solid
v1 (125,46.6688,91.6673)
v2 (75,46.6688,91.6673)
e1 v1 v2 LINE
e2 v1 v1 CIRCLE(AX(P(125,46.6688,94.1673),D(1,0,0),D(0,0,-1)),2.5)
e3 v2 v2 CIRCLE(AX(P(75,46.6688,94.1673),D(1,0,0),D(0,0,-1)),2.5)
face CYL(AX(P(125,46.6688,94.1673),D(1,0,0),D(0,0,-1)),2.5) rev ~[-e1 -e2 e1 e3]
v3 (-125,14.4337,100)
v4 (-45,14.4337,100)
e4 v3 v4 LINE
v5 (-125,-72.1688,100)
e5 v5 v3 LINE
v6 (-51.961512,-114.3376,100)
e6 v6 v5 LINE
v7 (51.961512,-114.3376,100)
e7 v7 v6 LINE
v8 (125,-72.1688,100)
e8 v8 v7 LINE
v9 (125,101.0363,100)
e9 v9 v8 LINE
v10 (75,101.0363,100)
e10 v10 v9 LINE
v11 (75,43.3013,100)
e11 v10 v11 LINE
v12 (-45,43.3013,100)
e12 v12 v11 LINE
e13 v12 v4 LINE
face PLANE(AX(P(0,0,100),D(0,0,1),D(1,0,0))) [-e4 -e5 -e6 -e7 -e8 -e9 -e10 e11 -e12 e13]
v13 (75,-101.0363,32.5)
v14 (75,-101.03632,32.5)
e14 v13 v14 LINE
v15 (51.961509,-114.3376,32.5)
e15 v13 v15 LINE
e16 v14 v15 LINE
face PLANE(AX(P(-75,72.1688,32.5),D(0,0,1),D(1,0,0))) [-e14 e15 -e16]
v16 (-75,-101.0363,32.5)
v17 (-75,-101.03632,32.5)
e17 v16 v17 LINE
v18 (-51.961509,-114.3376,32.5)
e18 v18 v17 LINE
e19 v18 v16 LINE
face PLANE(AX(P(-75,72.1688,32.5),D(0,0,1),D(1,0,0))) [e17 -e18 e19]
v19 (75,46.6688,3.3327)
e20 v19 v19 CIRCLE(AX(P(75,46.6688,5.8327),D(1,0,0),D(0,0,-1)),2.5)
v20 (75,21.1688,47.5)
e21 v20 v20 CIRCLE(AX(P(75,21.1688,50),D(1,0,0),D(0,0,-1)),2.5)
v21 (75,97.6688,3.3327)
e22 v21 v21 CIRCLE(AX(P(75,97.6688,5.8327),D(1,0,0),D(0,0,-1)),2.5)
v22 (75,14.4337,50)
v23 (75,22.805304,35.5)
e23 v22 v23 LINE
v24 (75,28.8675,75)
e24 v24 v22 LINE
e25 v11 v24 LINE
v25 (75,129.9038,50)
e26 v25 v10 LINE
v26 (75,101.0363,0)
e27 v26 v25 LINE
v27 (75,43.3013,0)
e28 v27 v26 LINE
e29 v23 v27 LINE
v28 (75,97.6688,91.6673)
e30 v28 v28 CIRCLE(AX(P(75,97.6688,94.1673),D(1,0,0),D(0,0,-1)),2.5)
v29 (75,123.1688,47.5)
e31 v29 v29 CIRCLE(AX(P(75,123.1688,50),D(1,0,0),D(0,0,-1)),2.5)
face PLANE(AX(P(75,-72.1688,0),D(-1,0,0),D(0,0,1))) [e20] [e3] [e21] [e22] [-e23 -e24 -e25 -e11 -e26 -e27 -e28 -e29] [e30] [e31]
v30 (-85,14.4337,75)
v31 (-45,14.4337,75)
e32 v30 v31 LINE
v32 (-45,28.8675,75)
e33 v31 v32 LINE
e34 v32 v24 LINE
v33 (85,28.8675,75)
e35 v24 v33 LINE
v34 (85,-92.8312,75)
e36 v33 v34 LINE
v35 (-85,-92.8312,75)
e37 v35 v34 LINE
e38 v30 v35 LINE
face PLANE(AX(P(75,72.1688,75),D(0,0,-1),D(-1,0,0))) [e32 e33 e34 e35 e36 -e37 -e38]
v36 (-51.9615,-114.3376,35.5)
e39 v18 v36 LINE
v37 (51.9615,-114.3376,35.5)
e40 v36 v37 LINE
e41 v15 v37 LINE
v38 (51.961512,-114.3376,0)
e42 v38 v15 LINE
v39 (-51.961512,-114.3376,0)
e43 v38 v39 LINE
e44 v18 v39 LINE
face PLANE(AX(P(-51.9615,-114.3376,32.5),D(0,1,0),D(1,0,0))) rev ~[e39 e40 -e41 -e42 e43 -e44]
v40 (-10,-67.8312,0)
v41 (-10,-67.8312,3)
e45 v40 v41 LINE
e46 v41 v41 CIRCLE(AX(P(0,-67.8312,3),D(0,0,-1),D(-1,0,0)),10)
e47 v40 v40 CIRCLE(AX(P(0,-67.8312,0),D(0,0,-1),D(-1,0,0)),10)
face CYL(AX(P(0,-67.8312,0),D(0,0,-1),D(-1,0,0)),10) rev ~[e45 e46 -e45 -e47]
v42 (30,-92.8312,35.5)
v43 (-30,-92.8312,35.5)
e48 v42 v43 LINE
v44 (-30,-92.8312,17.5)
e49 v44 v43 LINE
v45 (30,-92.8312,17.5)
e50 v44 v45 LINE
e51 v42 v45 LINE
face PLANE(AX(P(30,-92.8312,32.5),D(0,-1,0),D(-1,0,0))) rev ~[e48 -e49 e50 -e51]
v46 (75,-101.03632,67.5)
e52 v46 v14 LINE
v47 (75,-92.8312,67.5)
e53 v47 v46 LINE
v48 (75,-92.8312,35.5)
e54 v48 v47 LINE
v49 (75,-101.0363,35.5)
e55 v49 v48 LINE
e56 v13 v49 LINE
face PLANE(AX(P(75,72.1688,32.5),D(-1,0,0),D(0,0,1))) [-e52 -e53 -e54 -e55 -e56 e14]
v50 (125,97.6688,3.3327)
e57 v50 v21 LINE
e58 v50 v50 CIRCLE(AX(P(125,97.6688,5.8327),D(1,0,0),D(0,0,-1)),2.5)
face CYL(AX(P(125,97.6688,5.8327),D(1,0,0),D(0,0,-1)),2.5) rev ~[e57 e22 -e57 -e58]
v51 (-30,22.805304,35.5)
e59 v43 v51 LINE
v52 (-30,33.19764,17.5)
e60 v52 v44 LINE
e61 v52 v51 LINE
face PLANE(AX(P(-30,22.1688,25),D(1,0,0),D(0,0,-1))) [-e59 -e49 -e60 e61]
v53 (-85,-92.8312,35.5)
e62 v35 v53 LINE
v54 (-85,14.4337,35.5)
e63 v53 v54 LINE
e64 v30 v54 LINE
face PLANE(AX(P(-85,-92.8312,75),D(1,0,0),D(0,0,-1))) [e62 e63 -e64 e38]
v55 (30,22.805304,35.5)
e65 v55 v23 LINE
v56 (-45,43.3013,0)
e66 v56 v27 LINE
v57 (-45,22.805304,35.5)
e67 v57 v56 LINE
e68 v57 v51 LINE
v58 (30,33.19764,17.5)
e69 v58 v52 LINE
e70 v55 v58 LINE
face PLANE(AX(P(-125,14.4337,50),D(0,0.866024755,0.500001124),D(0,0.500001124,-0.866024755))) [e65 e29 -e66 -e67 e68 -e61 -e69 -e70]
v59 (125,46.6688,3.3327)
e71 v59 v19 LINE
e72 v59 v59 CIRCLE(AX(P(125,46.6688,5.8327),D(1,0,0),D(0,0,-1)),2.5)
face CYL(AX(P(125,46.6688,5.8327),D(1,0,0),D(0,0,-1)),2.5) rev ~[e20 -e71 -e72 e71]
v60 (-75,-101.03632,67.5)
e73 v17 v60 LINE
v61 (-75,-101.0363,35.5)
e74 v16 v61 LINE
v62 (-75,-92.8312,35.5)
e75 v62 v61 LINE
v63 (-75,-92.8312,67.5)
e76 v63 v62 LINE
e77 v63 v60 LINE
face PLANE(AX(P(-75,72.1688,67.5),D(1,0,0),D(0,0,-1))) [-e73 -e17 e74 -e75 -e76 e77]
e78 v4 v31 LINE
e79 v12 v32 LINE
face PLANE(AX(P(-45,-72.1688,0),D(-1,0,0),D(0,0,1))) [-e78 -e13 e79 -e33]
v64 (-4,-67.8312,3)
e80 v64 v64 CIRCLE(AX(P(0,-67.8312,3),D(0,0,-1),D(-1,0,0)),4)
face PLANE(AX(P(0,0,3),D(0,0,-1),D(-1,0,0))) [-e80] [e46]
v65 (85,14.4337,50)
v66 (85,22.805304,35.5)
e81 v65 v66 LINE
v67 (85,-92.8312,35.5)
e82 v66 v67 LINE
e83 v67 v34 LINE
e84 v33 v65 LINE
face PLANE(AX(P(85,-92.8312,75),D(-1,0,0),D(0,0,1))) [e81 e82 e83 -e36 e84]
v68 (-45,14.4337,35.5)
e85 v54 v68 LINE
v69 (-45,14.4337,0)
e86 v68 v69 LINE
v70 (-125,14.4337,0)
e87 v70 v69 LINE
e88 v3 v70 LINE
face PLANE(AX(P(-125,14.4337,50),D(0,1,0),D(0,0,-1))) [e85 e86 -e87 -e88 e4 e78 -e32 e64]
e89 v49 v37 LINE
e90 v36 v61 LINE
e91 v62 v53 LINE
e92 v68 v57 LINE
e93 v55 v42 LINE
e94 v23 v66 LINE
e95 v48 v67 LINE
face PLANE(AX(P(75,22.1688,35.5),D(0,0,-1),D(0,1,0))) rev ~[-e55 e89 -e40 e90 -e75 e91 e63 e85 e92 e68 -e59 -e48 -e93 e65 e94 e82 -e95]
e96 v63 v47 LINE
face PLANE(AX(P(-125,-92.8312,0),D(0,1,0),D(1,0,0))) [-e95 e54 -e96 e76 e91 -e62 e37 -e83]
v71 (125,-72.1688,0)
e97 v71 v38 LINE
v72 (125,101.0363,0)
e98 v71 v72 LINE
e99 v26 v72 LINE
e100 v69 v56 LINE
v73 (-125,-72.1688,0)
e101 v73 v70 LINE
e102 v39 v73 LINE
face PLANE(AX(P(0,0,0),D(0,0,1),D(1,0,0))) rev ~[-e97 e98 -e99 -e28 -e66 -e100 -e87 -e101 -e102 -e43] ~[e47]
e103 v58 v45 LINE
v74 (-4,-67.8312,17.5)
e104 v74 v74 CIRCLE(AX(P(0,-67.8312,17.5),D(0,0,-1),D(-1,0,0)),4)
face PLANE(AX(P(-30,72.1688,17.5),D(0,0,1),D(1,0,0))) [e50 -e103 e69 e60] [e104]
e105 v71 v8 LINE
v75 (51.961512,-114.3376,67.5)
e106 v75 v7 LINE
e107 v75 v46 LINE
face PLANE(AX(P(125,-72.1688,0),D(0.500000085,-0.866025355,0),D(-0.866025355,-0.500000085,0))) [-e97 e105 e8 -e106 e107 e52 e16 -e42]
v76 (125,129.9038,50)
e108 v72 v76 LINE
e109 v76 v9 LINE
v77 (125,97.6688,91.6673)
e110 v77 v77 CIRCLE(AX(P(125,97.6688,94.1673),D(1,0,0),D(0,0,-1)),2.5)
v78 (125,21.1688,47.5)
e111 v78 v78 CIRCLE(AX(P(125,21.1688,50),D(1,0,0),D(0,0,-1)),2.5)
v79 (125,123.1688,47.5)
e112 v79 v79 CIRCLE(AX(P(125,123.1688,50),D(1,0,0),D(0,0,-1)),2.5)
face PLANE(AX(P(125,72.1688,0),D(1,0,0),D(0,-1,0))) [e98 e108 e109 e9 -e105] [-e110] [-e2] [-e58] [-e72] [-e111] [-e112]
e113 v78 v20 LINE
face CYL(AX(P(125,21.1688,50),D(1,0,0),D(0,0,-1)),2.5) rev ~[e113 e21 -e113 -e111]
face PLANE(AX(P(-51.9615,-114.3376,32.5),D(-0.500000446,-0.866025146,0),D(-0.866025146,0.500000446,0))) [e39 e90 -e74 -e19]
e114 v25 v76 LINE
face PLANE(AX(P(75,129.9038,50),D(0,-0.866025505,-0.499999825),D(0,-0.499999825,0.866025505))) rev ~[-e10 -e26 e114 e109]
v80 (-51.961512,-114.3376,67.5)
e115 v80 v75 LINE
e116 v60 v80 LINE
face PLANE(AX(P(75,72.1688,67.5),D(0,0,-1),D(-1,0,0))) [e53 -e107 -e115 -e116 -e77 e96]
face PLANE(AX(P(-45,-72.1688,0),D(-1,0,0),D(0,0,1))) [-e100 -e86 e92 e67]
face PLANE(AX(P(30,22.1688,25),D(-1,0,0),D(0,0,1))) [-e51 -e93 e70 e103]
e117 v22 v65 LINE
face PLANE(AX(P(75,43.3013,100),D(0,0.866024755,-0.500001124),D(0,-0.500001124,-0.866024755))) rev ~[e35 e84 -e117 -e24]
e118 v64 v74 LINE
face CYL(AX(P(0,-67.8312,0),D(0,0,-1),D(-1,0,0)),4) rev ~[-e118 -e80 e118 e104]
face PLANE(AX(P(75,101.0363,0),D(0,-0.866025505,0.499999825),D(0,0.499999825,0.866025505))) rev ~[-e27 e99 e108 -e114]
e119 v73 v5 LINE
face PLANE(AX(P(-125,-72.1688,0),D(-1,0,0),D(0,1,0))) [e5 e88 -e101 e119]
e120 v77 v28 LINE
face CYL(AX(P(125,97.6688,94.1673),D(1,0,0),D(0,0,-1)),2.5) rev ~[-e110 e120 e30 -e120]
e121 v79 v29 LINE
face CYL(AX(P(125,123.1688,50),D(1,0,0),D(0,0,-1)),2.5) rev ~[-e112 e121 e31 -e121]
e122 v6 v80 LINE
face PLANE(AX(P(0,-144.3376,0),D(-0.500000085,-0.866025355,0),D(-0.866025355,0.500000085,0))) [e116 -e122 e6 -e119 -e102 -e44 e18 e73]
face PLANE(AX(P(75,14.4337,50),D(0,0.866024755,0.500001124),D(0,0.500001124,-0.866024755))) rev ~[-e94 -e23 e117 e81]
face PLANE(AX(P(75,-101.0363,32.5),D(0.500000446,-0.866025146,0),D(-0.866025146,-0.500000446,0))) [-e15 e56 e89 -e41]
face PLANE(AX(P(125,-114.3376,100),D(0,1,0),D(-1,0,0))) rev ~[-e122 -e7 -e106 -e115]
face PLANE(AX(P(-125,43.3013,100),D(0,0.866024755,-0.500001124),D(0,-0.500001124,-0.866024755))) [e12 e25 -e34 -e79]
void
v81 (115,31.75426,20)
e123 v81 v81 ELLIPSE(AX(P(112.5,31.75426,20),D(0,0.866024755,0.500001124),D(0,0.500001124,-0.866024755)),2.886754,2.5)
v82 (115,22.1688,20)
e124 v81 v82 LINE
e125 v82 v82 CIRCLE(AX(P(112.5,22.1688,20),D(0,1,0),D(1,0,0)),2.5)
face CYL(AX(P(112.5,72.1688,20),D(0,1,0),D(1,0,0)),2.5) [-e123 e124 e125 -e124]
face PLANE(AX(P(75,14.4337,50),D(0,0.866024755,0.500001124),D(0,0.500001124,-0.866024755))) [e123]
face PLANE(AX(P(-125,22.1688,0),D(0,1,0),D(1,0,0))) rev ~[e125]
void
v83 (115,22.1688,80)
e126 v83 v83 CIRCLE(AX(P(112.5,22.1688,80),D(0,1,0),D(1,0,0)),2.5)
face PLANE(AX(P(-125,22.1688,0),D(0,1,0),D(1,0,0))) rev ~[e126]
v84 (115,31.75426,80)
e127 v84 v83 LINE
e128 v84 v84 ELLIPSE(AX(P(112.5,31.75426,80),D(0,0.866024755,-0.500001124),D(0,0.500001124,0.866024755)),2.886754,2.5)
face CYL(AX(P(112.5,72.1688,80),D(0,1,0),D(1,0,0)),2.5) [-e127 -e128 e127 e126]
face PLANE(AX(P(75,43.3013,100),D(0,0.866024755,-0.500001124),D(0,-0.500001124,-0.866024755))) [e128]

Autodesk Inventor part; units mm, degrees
ref_plane "YZ Plane" through (0, 0, 0) normal (1, 0, 0) x (0, 1, 0)
ref_plane "XZ Plane" through (0, 0, 0) normal (0, 1, 0) x (-1, 0, 0)
ref_plane "XY Plane" through (0, 0, 0) normal (0, 0, 1) x (1, 0, 0)
sketch "Sketch1" plane through (0, 0, 0) normal (0, 0, 1) x (1, 0, 0)
  line L0 (0, -144.3376) -> (-125, -72.1688)
  line L1 (-125, -72.1688) -> (-125, 72.1688)
  line L2 (-125, 72.1688) -> (0, 144.3376) construction
  line L3 (0, 144.3376) -> (125, 72.1688) construction
  line L4 (125, 72.1688) -> (125, -72.1688)
  line L5 (125, -72.1688) -> (0, -144.3376)
  line L6 (125, 72.1688) -> (-125, 72.1688)
  line L7 (125, 72.1688) -> (-125, 72.1688)
  line L8 (-125, 72.1688) -> (-125, 144.3376)
  line L9 (-125, 144.3376) -> (125, 144.3376)
  line L10 (125, 144.3376) -> (125, 72.1688)
  point P0 (0, 0)
  point P1 (0, 0)
  dimension "d0" = 250
extrude "Extrusion1" add sketch "Sketch1" along normal blind 100 contours L0 L1 L6 L4 L5
sketch "Sketch2" plane through (-125, 72.1688, 0) normal (0, 1, 0) x (1, 0, 0)
  line L0 (200, -67.5) -> (50, -67.5)
  line L1 (50, -67.5) -> (50, -32.5)
  line L2 (50, -32.5) -> (200, -32.5)
  line L3 (200, -32.5) -> (200, -67.5)
  line L4 (0, 0) -> (0, -100) projected
  line L5 (0, 0) -> (250, 0) projected
  point P0 (125, -32.5)
  point P1 (50, -50)
  point P2 (125, 0)
  point P3 (0, -50)
  dimension "d3" = 150
  dimension "d4" = 35
extrude "Extrusion2" cut sketch "Sketch2" against normal through all
sketch "Sketch3" plane through (0, 0, 100) normal (0, 0, 1) x (1, 0, 0)
  line L0 (125, -114.3376) -> (-125, -114.3376)
  line L1 (-125, -114.3376) -> (-125, -144.3376)
  line L2 (-125, -144.3376) -> (125, -144.3376)
  line L3 (125, -144.3376) -> (125, -114.3376)
  point P0 (0, 0)
  point P1 (0, -144.3376)
  point P2 (0, -114.3376)
  point P3 (125, -72.1688)
  dimension "d7" = 30
extrude "Extrusion3" cut sketch "Sketch3" against normal through all
sketch "Sketch4" plane through (125, -72.1688, 0) normal (1, 0, 0) x (0, 0, -1)
  circle A0 centre (-50, 119.3376) radius 3
  line L0 (0, 144.3376) -> (-100, 144.3376) projected
  point P0 (-50, 144.3376)
  dimension "d14" = 6
  dimension "d15" = 25
extrude "Extrusion4" cut sketch "Sketch4" against normal through all
sketch "Sketch5" plane through (-125, -72.1688, 0) normal (-1, 0, 0) x (0, 0, 1)
  circle A0 centre (50, 119.3376) radius 3 projected
  circle A1 centre (50, 112.3376) radius 1.5
  circle A2 centre (65.5, 112.3376) radius 1.5
  circle A3 centre (57.75, 125.761) radius 1.5
  circle A4 centre (42.25, 125.761) radius 1.5
  circle A5 centre (34.5, 112.3376) radius 1.5
  circle A6 centre (42.25, 98.9142) radius 1.5
  circle A7 centre (57.75, 98.9142) radius 1.5
  circle A8 centre (50, 119.3376) radius 6
  point P0 (0, 72.1688)
  dimension "d16" = 3
  dimension "d17" = 3
  dimension "d18" = 7
  dimension "d19" = 15.5
  dimension "d22" = 360
  dimension "d26" = 12
extrude "Extrusion5" cut sketch "Sketch5" against normal blind 75 contours A0 | A8 A1 | A1 A8 | A2 | A3 | A4 | A5 | A6 | A7 picked at (49.946, 113.508) picked at (48.5874, 114.6648)
sketch "Sketch6" plane through (-75, 72.1688, 67.5) normal (1, 0, 0) x (0, 0, -1)
  circle A0 centre (17.5, -32) radius 20
  circle A1 centre (33, -32) radius 1.5 projected
  circle A2 centre (17.5, -25) radius 6 projected
  point P0 (67.5, -72.1688)
  dimension "d27" = 40
extrude "Extrusion6" cut sketch "Sketch6" along normal blind 150 and the other way blind 45 contours A0 | A1 | A2
sketch "Sketch7" plane through (-125, 72.1688, 0) normal (0, 1, 0) x (1, 0, 0)
  line L0 (50, -25) -> (200, -25)
  line L1 (200, -25) -> (200, -75)
  line L2 (200, -75) -> (50, -75)
  line L3 (50, -75) -> (50, -25)
  line L4 (50, -67.5) -> (50, -32.5) projected
  line L5 (200, -32.5) -> (200, -67.5) projected
  point P0 (125, 0)
  point P1 (50, -50)
  dimension "d32" = 50
extrude "Extrusion7" cut sketch "Sketch7" against normal blind 50
sketch "Sketch8" plane through (-125, 72.1688, 0) normal (0, 1, 0) x (1, 0, 0)
  line L0 (12.5, -20) -> (237.5, -20) construction
  line L1 (237.5, -20) -> (237.5, -80) construction
  line L2 (237.5, -80) -> (12.5, -80) construction
  line L3 (12.5, -80) -> (12.5, -20) construction
  line L4 (50, -75) -> (50, -25) construction
  line L5 (50, -25) -> (200, -25) construction
  circle A0 centre (12.5, -20) radius 2.5
  circle A1 centre (12.5, -80) radius 2.5
  circle A2 centre (237.5, -80) radius 2.5
  circle A3 centre (237.5, -20) radius 2.5
  point P0 (125, 0)
  point P1 (125, -25)
  point P2 (125, -25)
  point P3 (125, -20)
  point P4 (50, -50)
  point P5 (12.5, -50)
  dimension "d35" = 225
  dimension "d36" = 60
  dimension "d37" = 5
  dimension "d38" = 5
  dimension "d39" = 5
  dimension "d40" = 5
extrude "Extrusion8" cut sketch "Sketch8" against normal blind 50
sketch "Sketch9" plane through (-125, -72.1688, 0) normal (-1, 0, 0) x (0, 0, 1)
  circle A0 centre (34.5, 112.3376) radius 1.5 construction
  circle A1 centre (50, 119.3376) radius 3 construction
  line L0 (34.5, 112.3376) -> (50, 112.3376) construction
  circle A2 centre (50, 119.3376) radius 6 construction
  line L1 (50, 112.3376) -> (50, 119.3376) construction
  circle A3 centre (34.5, 112.3376) radius 4
  circle A4 centre (42.25, 98.9142) radius 4
  circle A5 centre (57.75, 98.9142) radius 4
  circle A6 centre (65.5, 112.3376) radius 4
  circle A7 centre (57.75, 125.761) radius 4
  circle A8 centre (42.25, 125.761) radius 4
  point P0 (0, 72.1688)
  dimension "d43" = 8
  dimension "d46" = 360
extrude "Extrusion9" cut sketch "Sketch9" against normal blind 3
sketch "Sketch10" plane through (-120, 40.1688, 50) normal (1, 0, 0) x (0, 0, -1)
  circle A0 centre (0, 7) radius 6 projected
  circle A1 centre (7.75, -13.4234) radius 1.5 projected
  circle A2 centre (7.75, 13.4234) radius 1.5 projected
  circle A3 centre (-15.5, 0) radius 1.5 projected
  circle A4 centre (-7.75, 13.4234) radius 1.5 projected
  circle A5 centre (15.5, 0) radius 1.5 projected
  circle A6 centre (-7.75, -13.4234) radius 1.5 projected
  circle A7 centre (0, 0) radius 20 projected
  point P0 (50, -40.1688)
extrude "Extrusion10" add sketch "Sketch10" along normal blind 5
sketch "Sketch11" plane through (-125, 72.1688, 0) normal (0, 1, 0) x (1, 0, 0)
  line L0 (155, -75) -> (95, -75)
  line L1 (95, -75) -> (95, -17.5)
  line L2 (95, -17.5) -> (155, -17.5)
  line L3 (155, -17.5) -> (155, -75)
  line L4 (210, -75) -> (40, -75)
  line L5 (40, -75) -> (40, -40)
  line L6 (210, -40) -> (210, -75)
  line L7 (210, -40) -> (40, -40)
  line L8 (50, -25) -> (200, -25) projected
  line L9 (200, -75) -> (50, -75) projected
  point P0 (125, 0)
  point P1 (125, -17.5)
  point P2 (125, -75)
  point P3 (125, -75)
  point P4 (125, -25)
  dimension "d52" = 60
  dimension "d56" = 170
  dimension "d57" = 35
  dimension "d62" = 7.5
extrude "Extrusion11" cut sketch "Sketch11" against normal blind 165
sketch "Sketch12" plane through (0, 0, 0) normal (0, 0, -1) x (-1, 0, 0)
  line L0 (75, 72.1688) -> (30, 72.1688) projected
  line L1 (75, 72.1688) -> (75, 22.1688) projected
  line L2 (75, 22.1688) -> (30, 22.1688) projected
  line L3 (-30, 22.1688) -> (-75, 22.1688) projected
  line L4 (-75, 72.1688) -> (-75, 22.1688) projected
  circle A0 centre (0, -67.8312) radius 4
  line L5 (-30, 72.1688) -> (-30, 22.1688) projected
  line L6 (-30, 72.1688) -> (-75, 72.1688) projected
  line L7 (30, 22.1688) -> (30, 72.1688) projected
  line L8 (-30, -92.8312) -> (30, -92.8312) projected
  point P0 (0, 0)
  point P1 (0, -92.8312)
  dimension "d58" = 8
  dimension "d65" = 25
extrude "Extrusion12" cut sketch "Sketch12" against normal blind 25 contours A0
sketch "Sketch13" plane through (-51.9615, -114.3376, 32.5) normal (0, 0, 1) x (1, 0, 0)
  line L0 (21.9615, 21.5064) -> (21.9615, 136.5064) projected
  line L1 (21.9615, 136.5064) -> (-23.0385, 136.5064) projected
  line L2 (-23.0385, 136.5064) -> (-23.0385, 13.3013) projected
  line L3 (0, 0) -> (-23.0385, 13.3013) projected
  line L4 (0, 0) -> (103.923, 0) projected
  line L5 (126.9615, 13.3013) -> (103.923, 0) projected
  line L6 (126.9615, 136.5064) -> (126.9615, 13.3013) projected
  line L7 (126.9615, 136.5064) -> (81.9615, 136.5064) projected
  line L8 (81.9615, 136.5064) -> (81.9615, 21.5064) projected
  line L9 (81.9615, 21.5064) -> (21.9615, 21.5064) projected
  point P0 (51.9615, 114.3376)
extrude "Extrusion13" add sketch "Sketch13" along normal blind 3
sketch "Sketch15" plane through (-75, 22.1688, 25) normal (1, 0, 0) x (0, 0, -1)
  line L0 (-10.5, 0) -> (0, 0) projected
  line L1 (0, 50) -> (0, 0) projected
  line L2 (-15, 50) -> (0, 50) projected
  line L3 (-15, 50) -> (-15, 35.3205) projected
  arc A0 (-15, 0.6795) -> (-15, 35.3205) centre (-25, 18) ccw projected
  line L4 (-15, 0.6795) -> (-15, -115) projected
  line L5 (-15, -115) -> (-42.5, -115) projected
  line L6 (-42.5, -115) -> (-42.5, -123.2051) projected
  line L7 (-10.5, -123.2051) -> (-42.5, -123.2051) projected
  line L8 (-10.5, -123.2051) -> (-10.5, 0) projected
  line L9 (-10.5, 0) -> (-10.5, 4.225)
  line L10 (-10.5, 31.775) -> (-10.5, 50)
  arc A1 (-10.5, 4.225) -> (-10.5, 31.775) centre (-25, 18) ccw
  point P0 (25, -22.1688)
extrude "Extrusion14" add sketch "Sketch15" along normal blind 45 contours L9 A0 L10 L2 L1 L0
sketch "Sketch16" plane through (75, 22.1688, 25) normal (-1, 0, 0) x (0, 0, 1)
  line L0 (0, 0) -> (10.5, 0) projected
  line L1 (10.5, 0) -> (10.5, -123.2051) projected
  line L2 (42.5, -123.2051) -> (10.5, -123.2051) projected
  line L3 (42.5, -115) -> (42.5, -123.2051) projected
  line L4 (42.5, -115) -> (15, -115) projected
  line L5 (15, -115) -> (15, 50) projected
  line L6 (0, 50) -> (15, 50) projected
  line L7 (0, 50) -> (0, 0) projected
  line L8 (10.5, 0) -> (10.5, -123.2051) projected
  line L9 (10.5, 0) -> (10.5, 50)
  line L10 (-25, 50) -> (75, 50) projected
  line L11 (10.5, 50) -> (0, 50)
  line L12 (-2.5, 50) -> (-2.5, 0) projected
  point P0 (-25, -22.1688)
extrude "Extrusion15" add sketch "Sketch16" along normal blind 45 contours L7 L6 L9 L0
sketch "Sketch17" plane through (-125, -92.8312, 0) normal (0, 1, 0) x (1, 0, 0)
  line L0 (200, -40) -> (210, -40) projected
  line L1 (200, -35.5) -> (200, -40) projected
  line L2 (50, -40) -> (50, -35.5) projected
  line L3 (40, -40) -> (50, -40) projected
  line L4 (176.9615, -35.5) -> (200, -35.5) projected
  line L5 (200, -35.5) -> (210, -35.5)
  line L6 (210, -35.5) -> (210, -40)
  line L7 (210, -40) -> (200, -40)
  line L8 (200, -40) -> (200, -35.5)
  line L9 (50, -35.5) -> (73.0385, -35.5) projected
  line L10 (50, -35.5) -> (40, -35.5)
  line L11 (40, -35.5) -> (40, -40)
  line L12 (40, -40) -> (50, -40)
  line L13 (50, -40) -> (50, -35.5)
  point P0 (125, 0)
extrude "Extrusion16" cut sketch "Sketch17" along normal through all
sketch "Sketch18" plane through (-85, -92.8312, 75) normal (1, 0, 0) x (0, 0, -1)
  arc A0 (39.5, 119.225) -> (39.5, 146.775) centre (25, 133) ccw projected
  line L0 (57.5, 165) -> (39.5, 165) projected
  circle A1 centre (25, 133) radius 20 projected
  line L1 (45, 133) -> (39.5, 133)
  line L2 (39.5, 133) -> (39.5, 165)
  line L3 (39.5, 165) -> (45, 165)
  line L4 (45, 165) -> (45, 133)
  point P0 (75, 92.8312)
extrude "Extrusion17" cut sketch "Sketch18" along normal blind 55 contours L1 L2 A0 | A0 L2 L0 L4
sketch "Sketch20" plane through (85, -92.8312, 75) normal (-1, 0, 0) x (0, 0, 1)
  circle A0 centre (-25, 140) radius 3 projected
  circle A1 centre (-25, 140) radius 11.5
  point P0 (-75, 92.8312)
  dimension "d74" = 23
extrude "Extrusion18" cut sketch "Sketch20" against normal through all
sketch "Sketch21" plane through (125, -72.1688, 0) normal (1, 0, 0) x (0, 0, -1)
  circle A0 centre (-50, 119.3376) radius 11.5 projected
  circle A1 centre (-50, 101.8376) radius 2.5
  circle A2 centre (-34.8446, 128.0876) radius 2.5
  circle A3 centre (-65.1554, 128.0876) radius 2.5
  point P0 (0, 72.1688)
  dimension "d77" = 17.5
  dimension "d78" = 5
  dimension "d81" = 360
extrude "Extrusion19" cut sketch "Sketch21" against normal blind 35 contours A1 | A2 | A3
sketch "Sketch22" plane through (0, 0, 0) normal (0, 0, -1) x (-1, 0, 0)
  circle A0 centre (0, -67.8312) radius 4 projected
  circle A1 centre (0, -67.8312) radius 10
  point P0 (0, 0)
  dimension "d85" = 20
extrude "Extrusion20" cut sketch "Sketch22" against normal blind 3
sketch "Sketch23" plane through (-85, -92.8312, 75) normal (1, 0, 0) x (0, 0, -1)
  circle A0 centre (17.25, 119.5766) radius 4 projected
  circle A1 centre (25, 140) radius 6 projected
  circle A2 centre (17.25, 119.5766) radius 1.5 projected
  circle A3 centre (40.5, 133) radius 1.5 projected
  circle A4 centre (17.25, 146.4234) radius 1.5 projected
  circle A5 centre (9.5, 133) radius 1.5 projected
  circle A6 centre (32.75, 146.4234) radius 1.5 projected
  circle A7 centre (32.75, 119.5766) radius 1.5 projected
  circle A8 centre (25, 133) radius 20 projected
  point P0 (75, 92.8312)
extrude "Extrusion21" add sketch "Sketch23" against normal blind 40 contours A0 | A1 | A2 | A3 | A4 | A5 | A6 | A7 | A8
sketch "Sketch24" plane through (85, -92.8312, 75) normal (-1, 0, 0) x (0, 0, 1)
  circle A0 centre (-25, 140) radius 11.5 projected
  point P0 (-75, 92.8312)
extrude "Extrusion22" add sketch "Sketch24" against normal blind 40
sketch "Sketch25" plane through (125, -72.1688, 0) normal (1, 0, 0) x (0, 0, -1)
  circle A0 centre (-65.1554, 128.0876) radius 2.5 projected
  circle A1 centre (-50, 101.8376) radius 2.5 projected
  circle A2 centre (-34.8446, 128.0876) radius 2.5 projected
  point P0 (0, 72.1688)
extrude "Extrusion23" add sketch "Sketch25" against normal blind 40
sketch "Sketch26" plane through (-125, -72.1688, 0) normal (-1, 0, 0) x (0, 0, 1)
  line L0 (0, 144.3376) -> (100, 144.3376) projected
  line L1 (50, 202.0726) -> (100, 173.2051)
  line L2 (100, 173.2051) -> (100, 115.4701)
  line L3 (100, 115.4701) -> (50, 86.6025)
  line L4 (50, 86.6025) -> (0, 115.4701)
  line L5 (0, 115.4701) -> (0, 173.2051)
  line L6 (0, 173.2051) -> (50, 202.0726)
  point P0 (50, 144.3376)
extrude "Extrusion24" cut sketch "Sketch26" against normal blind 200
sketch "Sketch29" plane through (75, -72.1688, 0) normal (-1, 0, 0) x (0, 0, 1)
  line L0 (100, 115.4701) -> (50, 86.6025) projected
  line L1 (50, 86.6025) -> (0, 115.4701) projected
  line L2 (50, 86.6025) -> (0, 115.4701)
  line L3 (0, 115.4701) -> (0, 173.2051)
  line L4 (0, 173.2051) -> (50, 202.0726)
  line L5 (50, 202.0726) -> (100, 173.2051)
  line L6 (100, 173.2051) -> (100, 115.4701)
  line L7 (100, 115.4701) -> (50, 86.6025)
  point P0 (0, 72.1688)
  point P1 (50, 144.3376)
extrude "Extrusion26" add sketch "Sketch29" against normal blind 50
sketch "Sketch30" plane through (125, -72.1688, 100) normal (1, 0, 0) x (0, 0, -1)
  line L0 (50, 202.0726) -> (0, 173.2051) projected
  line L1 (50, 202.0726) -> (100, 173.2051)
  line L2 (100, 173.2051) -> (100, 115.4701)
  line L3 (100, 115.4701) -> (50, 86.6025)
  line L4 (50, 86.6025) -> (0, 115.4701)
  line L5 (0, 115.4701) -> (0, 173.2051) construction
  line L6 (0, 173.2051) -> (50, 202.0726)
  circle A0 centre (50, 93.3376) radius 2.5
  circle A1 centre (94.1673, 118.8376) radius 2.5
  circle A2 centre (94.1673, 169.8376) radius 2.5
  circle A3 centre (50, 195.3376) radius 2.5
  circle A4 centre (5.8327, 169.8376) radius 2.5
  circle A5 centre (5.8327, 118.8376) radius 2.5
  point P0 (100, 72.1688)
  point P1 (50, 144.3376)
  dimension "d103" = 5
  dimension "d104" = 51
  dimension "d107" = 360
extrude "Extrusion27" cut sketch "Sketch30" against normal through all
sketch "Sketch31" plane through (-125, -72.1688, 0) normal (-1, 0, 0) x (0, 0, 1)
  line L0 (100, 86.6025) -> (0, 86.6025)
  line L1 (100, 115.4701) -> (50, 86.6025) projected
  line L2 (50, 86.6025) -> (0, 115.4701) projected
  line L3 (100, 115.4701) -> (100, 0) projected
  line L4 (0, 0) -> (0, 115.4701) projected
  line L5 (0, 86.6025) -> (0, 115.4701)
  line L6 (100, 115.4701) -> (100, 86.6025)
  line L7 (100, 0) -> (100, 173.2051) projected
  point P0 (0, 72.1688)
extrude "Extrusion28" cut sketch "Sketch31" against normal blind 80
properties part number "HA01" material "ABS Plastic"
